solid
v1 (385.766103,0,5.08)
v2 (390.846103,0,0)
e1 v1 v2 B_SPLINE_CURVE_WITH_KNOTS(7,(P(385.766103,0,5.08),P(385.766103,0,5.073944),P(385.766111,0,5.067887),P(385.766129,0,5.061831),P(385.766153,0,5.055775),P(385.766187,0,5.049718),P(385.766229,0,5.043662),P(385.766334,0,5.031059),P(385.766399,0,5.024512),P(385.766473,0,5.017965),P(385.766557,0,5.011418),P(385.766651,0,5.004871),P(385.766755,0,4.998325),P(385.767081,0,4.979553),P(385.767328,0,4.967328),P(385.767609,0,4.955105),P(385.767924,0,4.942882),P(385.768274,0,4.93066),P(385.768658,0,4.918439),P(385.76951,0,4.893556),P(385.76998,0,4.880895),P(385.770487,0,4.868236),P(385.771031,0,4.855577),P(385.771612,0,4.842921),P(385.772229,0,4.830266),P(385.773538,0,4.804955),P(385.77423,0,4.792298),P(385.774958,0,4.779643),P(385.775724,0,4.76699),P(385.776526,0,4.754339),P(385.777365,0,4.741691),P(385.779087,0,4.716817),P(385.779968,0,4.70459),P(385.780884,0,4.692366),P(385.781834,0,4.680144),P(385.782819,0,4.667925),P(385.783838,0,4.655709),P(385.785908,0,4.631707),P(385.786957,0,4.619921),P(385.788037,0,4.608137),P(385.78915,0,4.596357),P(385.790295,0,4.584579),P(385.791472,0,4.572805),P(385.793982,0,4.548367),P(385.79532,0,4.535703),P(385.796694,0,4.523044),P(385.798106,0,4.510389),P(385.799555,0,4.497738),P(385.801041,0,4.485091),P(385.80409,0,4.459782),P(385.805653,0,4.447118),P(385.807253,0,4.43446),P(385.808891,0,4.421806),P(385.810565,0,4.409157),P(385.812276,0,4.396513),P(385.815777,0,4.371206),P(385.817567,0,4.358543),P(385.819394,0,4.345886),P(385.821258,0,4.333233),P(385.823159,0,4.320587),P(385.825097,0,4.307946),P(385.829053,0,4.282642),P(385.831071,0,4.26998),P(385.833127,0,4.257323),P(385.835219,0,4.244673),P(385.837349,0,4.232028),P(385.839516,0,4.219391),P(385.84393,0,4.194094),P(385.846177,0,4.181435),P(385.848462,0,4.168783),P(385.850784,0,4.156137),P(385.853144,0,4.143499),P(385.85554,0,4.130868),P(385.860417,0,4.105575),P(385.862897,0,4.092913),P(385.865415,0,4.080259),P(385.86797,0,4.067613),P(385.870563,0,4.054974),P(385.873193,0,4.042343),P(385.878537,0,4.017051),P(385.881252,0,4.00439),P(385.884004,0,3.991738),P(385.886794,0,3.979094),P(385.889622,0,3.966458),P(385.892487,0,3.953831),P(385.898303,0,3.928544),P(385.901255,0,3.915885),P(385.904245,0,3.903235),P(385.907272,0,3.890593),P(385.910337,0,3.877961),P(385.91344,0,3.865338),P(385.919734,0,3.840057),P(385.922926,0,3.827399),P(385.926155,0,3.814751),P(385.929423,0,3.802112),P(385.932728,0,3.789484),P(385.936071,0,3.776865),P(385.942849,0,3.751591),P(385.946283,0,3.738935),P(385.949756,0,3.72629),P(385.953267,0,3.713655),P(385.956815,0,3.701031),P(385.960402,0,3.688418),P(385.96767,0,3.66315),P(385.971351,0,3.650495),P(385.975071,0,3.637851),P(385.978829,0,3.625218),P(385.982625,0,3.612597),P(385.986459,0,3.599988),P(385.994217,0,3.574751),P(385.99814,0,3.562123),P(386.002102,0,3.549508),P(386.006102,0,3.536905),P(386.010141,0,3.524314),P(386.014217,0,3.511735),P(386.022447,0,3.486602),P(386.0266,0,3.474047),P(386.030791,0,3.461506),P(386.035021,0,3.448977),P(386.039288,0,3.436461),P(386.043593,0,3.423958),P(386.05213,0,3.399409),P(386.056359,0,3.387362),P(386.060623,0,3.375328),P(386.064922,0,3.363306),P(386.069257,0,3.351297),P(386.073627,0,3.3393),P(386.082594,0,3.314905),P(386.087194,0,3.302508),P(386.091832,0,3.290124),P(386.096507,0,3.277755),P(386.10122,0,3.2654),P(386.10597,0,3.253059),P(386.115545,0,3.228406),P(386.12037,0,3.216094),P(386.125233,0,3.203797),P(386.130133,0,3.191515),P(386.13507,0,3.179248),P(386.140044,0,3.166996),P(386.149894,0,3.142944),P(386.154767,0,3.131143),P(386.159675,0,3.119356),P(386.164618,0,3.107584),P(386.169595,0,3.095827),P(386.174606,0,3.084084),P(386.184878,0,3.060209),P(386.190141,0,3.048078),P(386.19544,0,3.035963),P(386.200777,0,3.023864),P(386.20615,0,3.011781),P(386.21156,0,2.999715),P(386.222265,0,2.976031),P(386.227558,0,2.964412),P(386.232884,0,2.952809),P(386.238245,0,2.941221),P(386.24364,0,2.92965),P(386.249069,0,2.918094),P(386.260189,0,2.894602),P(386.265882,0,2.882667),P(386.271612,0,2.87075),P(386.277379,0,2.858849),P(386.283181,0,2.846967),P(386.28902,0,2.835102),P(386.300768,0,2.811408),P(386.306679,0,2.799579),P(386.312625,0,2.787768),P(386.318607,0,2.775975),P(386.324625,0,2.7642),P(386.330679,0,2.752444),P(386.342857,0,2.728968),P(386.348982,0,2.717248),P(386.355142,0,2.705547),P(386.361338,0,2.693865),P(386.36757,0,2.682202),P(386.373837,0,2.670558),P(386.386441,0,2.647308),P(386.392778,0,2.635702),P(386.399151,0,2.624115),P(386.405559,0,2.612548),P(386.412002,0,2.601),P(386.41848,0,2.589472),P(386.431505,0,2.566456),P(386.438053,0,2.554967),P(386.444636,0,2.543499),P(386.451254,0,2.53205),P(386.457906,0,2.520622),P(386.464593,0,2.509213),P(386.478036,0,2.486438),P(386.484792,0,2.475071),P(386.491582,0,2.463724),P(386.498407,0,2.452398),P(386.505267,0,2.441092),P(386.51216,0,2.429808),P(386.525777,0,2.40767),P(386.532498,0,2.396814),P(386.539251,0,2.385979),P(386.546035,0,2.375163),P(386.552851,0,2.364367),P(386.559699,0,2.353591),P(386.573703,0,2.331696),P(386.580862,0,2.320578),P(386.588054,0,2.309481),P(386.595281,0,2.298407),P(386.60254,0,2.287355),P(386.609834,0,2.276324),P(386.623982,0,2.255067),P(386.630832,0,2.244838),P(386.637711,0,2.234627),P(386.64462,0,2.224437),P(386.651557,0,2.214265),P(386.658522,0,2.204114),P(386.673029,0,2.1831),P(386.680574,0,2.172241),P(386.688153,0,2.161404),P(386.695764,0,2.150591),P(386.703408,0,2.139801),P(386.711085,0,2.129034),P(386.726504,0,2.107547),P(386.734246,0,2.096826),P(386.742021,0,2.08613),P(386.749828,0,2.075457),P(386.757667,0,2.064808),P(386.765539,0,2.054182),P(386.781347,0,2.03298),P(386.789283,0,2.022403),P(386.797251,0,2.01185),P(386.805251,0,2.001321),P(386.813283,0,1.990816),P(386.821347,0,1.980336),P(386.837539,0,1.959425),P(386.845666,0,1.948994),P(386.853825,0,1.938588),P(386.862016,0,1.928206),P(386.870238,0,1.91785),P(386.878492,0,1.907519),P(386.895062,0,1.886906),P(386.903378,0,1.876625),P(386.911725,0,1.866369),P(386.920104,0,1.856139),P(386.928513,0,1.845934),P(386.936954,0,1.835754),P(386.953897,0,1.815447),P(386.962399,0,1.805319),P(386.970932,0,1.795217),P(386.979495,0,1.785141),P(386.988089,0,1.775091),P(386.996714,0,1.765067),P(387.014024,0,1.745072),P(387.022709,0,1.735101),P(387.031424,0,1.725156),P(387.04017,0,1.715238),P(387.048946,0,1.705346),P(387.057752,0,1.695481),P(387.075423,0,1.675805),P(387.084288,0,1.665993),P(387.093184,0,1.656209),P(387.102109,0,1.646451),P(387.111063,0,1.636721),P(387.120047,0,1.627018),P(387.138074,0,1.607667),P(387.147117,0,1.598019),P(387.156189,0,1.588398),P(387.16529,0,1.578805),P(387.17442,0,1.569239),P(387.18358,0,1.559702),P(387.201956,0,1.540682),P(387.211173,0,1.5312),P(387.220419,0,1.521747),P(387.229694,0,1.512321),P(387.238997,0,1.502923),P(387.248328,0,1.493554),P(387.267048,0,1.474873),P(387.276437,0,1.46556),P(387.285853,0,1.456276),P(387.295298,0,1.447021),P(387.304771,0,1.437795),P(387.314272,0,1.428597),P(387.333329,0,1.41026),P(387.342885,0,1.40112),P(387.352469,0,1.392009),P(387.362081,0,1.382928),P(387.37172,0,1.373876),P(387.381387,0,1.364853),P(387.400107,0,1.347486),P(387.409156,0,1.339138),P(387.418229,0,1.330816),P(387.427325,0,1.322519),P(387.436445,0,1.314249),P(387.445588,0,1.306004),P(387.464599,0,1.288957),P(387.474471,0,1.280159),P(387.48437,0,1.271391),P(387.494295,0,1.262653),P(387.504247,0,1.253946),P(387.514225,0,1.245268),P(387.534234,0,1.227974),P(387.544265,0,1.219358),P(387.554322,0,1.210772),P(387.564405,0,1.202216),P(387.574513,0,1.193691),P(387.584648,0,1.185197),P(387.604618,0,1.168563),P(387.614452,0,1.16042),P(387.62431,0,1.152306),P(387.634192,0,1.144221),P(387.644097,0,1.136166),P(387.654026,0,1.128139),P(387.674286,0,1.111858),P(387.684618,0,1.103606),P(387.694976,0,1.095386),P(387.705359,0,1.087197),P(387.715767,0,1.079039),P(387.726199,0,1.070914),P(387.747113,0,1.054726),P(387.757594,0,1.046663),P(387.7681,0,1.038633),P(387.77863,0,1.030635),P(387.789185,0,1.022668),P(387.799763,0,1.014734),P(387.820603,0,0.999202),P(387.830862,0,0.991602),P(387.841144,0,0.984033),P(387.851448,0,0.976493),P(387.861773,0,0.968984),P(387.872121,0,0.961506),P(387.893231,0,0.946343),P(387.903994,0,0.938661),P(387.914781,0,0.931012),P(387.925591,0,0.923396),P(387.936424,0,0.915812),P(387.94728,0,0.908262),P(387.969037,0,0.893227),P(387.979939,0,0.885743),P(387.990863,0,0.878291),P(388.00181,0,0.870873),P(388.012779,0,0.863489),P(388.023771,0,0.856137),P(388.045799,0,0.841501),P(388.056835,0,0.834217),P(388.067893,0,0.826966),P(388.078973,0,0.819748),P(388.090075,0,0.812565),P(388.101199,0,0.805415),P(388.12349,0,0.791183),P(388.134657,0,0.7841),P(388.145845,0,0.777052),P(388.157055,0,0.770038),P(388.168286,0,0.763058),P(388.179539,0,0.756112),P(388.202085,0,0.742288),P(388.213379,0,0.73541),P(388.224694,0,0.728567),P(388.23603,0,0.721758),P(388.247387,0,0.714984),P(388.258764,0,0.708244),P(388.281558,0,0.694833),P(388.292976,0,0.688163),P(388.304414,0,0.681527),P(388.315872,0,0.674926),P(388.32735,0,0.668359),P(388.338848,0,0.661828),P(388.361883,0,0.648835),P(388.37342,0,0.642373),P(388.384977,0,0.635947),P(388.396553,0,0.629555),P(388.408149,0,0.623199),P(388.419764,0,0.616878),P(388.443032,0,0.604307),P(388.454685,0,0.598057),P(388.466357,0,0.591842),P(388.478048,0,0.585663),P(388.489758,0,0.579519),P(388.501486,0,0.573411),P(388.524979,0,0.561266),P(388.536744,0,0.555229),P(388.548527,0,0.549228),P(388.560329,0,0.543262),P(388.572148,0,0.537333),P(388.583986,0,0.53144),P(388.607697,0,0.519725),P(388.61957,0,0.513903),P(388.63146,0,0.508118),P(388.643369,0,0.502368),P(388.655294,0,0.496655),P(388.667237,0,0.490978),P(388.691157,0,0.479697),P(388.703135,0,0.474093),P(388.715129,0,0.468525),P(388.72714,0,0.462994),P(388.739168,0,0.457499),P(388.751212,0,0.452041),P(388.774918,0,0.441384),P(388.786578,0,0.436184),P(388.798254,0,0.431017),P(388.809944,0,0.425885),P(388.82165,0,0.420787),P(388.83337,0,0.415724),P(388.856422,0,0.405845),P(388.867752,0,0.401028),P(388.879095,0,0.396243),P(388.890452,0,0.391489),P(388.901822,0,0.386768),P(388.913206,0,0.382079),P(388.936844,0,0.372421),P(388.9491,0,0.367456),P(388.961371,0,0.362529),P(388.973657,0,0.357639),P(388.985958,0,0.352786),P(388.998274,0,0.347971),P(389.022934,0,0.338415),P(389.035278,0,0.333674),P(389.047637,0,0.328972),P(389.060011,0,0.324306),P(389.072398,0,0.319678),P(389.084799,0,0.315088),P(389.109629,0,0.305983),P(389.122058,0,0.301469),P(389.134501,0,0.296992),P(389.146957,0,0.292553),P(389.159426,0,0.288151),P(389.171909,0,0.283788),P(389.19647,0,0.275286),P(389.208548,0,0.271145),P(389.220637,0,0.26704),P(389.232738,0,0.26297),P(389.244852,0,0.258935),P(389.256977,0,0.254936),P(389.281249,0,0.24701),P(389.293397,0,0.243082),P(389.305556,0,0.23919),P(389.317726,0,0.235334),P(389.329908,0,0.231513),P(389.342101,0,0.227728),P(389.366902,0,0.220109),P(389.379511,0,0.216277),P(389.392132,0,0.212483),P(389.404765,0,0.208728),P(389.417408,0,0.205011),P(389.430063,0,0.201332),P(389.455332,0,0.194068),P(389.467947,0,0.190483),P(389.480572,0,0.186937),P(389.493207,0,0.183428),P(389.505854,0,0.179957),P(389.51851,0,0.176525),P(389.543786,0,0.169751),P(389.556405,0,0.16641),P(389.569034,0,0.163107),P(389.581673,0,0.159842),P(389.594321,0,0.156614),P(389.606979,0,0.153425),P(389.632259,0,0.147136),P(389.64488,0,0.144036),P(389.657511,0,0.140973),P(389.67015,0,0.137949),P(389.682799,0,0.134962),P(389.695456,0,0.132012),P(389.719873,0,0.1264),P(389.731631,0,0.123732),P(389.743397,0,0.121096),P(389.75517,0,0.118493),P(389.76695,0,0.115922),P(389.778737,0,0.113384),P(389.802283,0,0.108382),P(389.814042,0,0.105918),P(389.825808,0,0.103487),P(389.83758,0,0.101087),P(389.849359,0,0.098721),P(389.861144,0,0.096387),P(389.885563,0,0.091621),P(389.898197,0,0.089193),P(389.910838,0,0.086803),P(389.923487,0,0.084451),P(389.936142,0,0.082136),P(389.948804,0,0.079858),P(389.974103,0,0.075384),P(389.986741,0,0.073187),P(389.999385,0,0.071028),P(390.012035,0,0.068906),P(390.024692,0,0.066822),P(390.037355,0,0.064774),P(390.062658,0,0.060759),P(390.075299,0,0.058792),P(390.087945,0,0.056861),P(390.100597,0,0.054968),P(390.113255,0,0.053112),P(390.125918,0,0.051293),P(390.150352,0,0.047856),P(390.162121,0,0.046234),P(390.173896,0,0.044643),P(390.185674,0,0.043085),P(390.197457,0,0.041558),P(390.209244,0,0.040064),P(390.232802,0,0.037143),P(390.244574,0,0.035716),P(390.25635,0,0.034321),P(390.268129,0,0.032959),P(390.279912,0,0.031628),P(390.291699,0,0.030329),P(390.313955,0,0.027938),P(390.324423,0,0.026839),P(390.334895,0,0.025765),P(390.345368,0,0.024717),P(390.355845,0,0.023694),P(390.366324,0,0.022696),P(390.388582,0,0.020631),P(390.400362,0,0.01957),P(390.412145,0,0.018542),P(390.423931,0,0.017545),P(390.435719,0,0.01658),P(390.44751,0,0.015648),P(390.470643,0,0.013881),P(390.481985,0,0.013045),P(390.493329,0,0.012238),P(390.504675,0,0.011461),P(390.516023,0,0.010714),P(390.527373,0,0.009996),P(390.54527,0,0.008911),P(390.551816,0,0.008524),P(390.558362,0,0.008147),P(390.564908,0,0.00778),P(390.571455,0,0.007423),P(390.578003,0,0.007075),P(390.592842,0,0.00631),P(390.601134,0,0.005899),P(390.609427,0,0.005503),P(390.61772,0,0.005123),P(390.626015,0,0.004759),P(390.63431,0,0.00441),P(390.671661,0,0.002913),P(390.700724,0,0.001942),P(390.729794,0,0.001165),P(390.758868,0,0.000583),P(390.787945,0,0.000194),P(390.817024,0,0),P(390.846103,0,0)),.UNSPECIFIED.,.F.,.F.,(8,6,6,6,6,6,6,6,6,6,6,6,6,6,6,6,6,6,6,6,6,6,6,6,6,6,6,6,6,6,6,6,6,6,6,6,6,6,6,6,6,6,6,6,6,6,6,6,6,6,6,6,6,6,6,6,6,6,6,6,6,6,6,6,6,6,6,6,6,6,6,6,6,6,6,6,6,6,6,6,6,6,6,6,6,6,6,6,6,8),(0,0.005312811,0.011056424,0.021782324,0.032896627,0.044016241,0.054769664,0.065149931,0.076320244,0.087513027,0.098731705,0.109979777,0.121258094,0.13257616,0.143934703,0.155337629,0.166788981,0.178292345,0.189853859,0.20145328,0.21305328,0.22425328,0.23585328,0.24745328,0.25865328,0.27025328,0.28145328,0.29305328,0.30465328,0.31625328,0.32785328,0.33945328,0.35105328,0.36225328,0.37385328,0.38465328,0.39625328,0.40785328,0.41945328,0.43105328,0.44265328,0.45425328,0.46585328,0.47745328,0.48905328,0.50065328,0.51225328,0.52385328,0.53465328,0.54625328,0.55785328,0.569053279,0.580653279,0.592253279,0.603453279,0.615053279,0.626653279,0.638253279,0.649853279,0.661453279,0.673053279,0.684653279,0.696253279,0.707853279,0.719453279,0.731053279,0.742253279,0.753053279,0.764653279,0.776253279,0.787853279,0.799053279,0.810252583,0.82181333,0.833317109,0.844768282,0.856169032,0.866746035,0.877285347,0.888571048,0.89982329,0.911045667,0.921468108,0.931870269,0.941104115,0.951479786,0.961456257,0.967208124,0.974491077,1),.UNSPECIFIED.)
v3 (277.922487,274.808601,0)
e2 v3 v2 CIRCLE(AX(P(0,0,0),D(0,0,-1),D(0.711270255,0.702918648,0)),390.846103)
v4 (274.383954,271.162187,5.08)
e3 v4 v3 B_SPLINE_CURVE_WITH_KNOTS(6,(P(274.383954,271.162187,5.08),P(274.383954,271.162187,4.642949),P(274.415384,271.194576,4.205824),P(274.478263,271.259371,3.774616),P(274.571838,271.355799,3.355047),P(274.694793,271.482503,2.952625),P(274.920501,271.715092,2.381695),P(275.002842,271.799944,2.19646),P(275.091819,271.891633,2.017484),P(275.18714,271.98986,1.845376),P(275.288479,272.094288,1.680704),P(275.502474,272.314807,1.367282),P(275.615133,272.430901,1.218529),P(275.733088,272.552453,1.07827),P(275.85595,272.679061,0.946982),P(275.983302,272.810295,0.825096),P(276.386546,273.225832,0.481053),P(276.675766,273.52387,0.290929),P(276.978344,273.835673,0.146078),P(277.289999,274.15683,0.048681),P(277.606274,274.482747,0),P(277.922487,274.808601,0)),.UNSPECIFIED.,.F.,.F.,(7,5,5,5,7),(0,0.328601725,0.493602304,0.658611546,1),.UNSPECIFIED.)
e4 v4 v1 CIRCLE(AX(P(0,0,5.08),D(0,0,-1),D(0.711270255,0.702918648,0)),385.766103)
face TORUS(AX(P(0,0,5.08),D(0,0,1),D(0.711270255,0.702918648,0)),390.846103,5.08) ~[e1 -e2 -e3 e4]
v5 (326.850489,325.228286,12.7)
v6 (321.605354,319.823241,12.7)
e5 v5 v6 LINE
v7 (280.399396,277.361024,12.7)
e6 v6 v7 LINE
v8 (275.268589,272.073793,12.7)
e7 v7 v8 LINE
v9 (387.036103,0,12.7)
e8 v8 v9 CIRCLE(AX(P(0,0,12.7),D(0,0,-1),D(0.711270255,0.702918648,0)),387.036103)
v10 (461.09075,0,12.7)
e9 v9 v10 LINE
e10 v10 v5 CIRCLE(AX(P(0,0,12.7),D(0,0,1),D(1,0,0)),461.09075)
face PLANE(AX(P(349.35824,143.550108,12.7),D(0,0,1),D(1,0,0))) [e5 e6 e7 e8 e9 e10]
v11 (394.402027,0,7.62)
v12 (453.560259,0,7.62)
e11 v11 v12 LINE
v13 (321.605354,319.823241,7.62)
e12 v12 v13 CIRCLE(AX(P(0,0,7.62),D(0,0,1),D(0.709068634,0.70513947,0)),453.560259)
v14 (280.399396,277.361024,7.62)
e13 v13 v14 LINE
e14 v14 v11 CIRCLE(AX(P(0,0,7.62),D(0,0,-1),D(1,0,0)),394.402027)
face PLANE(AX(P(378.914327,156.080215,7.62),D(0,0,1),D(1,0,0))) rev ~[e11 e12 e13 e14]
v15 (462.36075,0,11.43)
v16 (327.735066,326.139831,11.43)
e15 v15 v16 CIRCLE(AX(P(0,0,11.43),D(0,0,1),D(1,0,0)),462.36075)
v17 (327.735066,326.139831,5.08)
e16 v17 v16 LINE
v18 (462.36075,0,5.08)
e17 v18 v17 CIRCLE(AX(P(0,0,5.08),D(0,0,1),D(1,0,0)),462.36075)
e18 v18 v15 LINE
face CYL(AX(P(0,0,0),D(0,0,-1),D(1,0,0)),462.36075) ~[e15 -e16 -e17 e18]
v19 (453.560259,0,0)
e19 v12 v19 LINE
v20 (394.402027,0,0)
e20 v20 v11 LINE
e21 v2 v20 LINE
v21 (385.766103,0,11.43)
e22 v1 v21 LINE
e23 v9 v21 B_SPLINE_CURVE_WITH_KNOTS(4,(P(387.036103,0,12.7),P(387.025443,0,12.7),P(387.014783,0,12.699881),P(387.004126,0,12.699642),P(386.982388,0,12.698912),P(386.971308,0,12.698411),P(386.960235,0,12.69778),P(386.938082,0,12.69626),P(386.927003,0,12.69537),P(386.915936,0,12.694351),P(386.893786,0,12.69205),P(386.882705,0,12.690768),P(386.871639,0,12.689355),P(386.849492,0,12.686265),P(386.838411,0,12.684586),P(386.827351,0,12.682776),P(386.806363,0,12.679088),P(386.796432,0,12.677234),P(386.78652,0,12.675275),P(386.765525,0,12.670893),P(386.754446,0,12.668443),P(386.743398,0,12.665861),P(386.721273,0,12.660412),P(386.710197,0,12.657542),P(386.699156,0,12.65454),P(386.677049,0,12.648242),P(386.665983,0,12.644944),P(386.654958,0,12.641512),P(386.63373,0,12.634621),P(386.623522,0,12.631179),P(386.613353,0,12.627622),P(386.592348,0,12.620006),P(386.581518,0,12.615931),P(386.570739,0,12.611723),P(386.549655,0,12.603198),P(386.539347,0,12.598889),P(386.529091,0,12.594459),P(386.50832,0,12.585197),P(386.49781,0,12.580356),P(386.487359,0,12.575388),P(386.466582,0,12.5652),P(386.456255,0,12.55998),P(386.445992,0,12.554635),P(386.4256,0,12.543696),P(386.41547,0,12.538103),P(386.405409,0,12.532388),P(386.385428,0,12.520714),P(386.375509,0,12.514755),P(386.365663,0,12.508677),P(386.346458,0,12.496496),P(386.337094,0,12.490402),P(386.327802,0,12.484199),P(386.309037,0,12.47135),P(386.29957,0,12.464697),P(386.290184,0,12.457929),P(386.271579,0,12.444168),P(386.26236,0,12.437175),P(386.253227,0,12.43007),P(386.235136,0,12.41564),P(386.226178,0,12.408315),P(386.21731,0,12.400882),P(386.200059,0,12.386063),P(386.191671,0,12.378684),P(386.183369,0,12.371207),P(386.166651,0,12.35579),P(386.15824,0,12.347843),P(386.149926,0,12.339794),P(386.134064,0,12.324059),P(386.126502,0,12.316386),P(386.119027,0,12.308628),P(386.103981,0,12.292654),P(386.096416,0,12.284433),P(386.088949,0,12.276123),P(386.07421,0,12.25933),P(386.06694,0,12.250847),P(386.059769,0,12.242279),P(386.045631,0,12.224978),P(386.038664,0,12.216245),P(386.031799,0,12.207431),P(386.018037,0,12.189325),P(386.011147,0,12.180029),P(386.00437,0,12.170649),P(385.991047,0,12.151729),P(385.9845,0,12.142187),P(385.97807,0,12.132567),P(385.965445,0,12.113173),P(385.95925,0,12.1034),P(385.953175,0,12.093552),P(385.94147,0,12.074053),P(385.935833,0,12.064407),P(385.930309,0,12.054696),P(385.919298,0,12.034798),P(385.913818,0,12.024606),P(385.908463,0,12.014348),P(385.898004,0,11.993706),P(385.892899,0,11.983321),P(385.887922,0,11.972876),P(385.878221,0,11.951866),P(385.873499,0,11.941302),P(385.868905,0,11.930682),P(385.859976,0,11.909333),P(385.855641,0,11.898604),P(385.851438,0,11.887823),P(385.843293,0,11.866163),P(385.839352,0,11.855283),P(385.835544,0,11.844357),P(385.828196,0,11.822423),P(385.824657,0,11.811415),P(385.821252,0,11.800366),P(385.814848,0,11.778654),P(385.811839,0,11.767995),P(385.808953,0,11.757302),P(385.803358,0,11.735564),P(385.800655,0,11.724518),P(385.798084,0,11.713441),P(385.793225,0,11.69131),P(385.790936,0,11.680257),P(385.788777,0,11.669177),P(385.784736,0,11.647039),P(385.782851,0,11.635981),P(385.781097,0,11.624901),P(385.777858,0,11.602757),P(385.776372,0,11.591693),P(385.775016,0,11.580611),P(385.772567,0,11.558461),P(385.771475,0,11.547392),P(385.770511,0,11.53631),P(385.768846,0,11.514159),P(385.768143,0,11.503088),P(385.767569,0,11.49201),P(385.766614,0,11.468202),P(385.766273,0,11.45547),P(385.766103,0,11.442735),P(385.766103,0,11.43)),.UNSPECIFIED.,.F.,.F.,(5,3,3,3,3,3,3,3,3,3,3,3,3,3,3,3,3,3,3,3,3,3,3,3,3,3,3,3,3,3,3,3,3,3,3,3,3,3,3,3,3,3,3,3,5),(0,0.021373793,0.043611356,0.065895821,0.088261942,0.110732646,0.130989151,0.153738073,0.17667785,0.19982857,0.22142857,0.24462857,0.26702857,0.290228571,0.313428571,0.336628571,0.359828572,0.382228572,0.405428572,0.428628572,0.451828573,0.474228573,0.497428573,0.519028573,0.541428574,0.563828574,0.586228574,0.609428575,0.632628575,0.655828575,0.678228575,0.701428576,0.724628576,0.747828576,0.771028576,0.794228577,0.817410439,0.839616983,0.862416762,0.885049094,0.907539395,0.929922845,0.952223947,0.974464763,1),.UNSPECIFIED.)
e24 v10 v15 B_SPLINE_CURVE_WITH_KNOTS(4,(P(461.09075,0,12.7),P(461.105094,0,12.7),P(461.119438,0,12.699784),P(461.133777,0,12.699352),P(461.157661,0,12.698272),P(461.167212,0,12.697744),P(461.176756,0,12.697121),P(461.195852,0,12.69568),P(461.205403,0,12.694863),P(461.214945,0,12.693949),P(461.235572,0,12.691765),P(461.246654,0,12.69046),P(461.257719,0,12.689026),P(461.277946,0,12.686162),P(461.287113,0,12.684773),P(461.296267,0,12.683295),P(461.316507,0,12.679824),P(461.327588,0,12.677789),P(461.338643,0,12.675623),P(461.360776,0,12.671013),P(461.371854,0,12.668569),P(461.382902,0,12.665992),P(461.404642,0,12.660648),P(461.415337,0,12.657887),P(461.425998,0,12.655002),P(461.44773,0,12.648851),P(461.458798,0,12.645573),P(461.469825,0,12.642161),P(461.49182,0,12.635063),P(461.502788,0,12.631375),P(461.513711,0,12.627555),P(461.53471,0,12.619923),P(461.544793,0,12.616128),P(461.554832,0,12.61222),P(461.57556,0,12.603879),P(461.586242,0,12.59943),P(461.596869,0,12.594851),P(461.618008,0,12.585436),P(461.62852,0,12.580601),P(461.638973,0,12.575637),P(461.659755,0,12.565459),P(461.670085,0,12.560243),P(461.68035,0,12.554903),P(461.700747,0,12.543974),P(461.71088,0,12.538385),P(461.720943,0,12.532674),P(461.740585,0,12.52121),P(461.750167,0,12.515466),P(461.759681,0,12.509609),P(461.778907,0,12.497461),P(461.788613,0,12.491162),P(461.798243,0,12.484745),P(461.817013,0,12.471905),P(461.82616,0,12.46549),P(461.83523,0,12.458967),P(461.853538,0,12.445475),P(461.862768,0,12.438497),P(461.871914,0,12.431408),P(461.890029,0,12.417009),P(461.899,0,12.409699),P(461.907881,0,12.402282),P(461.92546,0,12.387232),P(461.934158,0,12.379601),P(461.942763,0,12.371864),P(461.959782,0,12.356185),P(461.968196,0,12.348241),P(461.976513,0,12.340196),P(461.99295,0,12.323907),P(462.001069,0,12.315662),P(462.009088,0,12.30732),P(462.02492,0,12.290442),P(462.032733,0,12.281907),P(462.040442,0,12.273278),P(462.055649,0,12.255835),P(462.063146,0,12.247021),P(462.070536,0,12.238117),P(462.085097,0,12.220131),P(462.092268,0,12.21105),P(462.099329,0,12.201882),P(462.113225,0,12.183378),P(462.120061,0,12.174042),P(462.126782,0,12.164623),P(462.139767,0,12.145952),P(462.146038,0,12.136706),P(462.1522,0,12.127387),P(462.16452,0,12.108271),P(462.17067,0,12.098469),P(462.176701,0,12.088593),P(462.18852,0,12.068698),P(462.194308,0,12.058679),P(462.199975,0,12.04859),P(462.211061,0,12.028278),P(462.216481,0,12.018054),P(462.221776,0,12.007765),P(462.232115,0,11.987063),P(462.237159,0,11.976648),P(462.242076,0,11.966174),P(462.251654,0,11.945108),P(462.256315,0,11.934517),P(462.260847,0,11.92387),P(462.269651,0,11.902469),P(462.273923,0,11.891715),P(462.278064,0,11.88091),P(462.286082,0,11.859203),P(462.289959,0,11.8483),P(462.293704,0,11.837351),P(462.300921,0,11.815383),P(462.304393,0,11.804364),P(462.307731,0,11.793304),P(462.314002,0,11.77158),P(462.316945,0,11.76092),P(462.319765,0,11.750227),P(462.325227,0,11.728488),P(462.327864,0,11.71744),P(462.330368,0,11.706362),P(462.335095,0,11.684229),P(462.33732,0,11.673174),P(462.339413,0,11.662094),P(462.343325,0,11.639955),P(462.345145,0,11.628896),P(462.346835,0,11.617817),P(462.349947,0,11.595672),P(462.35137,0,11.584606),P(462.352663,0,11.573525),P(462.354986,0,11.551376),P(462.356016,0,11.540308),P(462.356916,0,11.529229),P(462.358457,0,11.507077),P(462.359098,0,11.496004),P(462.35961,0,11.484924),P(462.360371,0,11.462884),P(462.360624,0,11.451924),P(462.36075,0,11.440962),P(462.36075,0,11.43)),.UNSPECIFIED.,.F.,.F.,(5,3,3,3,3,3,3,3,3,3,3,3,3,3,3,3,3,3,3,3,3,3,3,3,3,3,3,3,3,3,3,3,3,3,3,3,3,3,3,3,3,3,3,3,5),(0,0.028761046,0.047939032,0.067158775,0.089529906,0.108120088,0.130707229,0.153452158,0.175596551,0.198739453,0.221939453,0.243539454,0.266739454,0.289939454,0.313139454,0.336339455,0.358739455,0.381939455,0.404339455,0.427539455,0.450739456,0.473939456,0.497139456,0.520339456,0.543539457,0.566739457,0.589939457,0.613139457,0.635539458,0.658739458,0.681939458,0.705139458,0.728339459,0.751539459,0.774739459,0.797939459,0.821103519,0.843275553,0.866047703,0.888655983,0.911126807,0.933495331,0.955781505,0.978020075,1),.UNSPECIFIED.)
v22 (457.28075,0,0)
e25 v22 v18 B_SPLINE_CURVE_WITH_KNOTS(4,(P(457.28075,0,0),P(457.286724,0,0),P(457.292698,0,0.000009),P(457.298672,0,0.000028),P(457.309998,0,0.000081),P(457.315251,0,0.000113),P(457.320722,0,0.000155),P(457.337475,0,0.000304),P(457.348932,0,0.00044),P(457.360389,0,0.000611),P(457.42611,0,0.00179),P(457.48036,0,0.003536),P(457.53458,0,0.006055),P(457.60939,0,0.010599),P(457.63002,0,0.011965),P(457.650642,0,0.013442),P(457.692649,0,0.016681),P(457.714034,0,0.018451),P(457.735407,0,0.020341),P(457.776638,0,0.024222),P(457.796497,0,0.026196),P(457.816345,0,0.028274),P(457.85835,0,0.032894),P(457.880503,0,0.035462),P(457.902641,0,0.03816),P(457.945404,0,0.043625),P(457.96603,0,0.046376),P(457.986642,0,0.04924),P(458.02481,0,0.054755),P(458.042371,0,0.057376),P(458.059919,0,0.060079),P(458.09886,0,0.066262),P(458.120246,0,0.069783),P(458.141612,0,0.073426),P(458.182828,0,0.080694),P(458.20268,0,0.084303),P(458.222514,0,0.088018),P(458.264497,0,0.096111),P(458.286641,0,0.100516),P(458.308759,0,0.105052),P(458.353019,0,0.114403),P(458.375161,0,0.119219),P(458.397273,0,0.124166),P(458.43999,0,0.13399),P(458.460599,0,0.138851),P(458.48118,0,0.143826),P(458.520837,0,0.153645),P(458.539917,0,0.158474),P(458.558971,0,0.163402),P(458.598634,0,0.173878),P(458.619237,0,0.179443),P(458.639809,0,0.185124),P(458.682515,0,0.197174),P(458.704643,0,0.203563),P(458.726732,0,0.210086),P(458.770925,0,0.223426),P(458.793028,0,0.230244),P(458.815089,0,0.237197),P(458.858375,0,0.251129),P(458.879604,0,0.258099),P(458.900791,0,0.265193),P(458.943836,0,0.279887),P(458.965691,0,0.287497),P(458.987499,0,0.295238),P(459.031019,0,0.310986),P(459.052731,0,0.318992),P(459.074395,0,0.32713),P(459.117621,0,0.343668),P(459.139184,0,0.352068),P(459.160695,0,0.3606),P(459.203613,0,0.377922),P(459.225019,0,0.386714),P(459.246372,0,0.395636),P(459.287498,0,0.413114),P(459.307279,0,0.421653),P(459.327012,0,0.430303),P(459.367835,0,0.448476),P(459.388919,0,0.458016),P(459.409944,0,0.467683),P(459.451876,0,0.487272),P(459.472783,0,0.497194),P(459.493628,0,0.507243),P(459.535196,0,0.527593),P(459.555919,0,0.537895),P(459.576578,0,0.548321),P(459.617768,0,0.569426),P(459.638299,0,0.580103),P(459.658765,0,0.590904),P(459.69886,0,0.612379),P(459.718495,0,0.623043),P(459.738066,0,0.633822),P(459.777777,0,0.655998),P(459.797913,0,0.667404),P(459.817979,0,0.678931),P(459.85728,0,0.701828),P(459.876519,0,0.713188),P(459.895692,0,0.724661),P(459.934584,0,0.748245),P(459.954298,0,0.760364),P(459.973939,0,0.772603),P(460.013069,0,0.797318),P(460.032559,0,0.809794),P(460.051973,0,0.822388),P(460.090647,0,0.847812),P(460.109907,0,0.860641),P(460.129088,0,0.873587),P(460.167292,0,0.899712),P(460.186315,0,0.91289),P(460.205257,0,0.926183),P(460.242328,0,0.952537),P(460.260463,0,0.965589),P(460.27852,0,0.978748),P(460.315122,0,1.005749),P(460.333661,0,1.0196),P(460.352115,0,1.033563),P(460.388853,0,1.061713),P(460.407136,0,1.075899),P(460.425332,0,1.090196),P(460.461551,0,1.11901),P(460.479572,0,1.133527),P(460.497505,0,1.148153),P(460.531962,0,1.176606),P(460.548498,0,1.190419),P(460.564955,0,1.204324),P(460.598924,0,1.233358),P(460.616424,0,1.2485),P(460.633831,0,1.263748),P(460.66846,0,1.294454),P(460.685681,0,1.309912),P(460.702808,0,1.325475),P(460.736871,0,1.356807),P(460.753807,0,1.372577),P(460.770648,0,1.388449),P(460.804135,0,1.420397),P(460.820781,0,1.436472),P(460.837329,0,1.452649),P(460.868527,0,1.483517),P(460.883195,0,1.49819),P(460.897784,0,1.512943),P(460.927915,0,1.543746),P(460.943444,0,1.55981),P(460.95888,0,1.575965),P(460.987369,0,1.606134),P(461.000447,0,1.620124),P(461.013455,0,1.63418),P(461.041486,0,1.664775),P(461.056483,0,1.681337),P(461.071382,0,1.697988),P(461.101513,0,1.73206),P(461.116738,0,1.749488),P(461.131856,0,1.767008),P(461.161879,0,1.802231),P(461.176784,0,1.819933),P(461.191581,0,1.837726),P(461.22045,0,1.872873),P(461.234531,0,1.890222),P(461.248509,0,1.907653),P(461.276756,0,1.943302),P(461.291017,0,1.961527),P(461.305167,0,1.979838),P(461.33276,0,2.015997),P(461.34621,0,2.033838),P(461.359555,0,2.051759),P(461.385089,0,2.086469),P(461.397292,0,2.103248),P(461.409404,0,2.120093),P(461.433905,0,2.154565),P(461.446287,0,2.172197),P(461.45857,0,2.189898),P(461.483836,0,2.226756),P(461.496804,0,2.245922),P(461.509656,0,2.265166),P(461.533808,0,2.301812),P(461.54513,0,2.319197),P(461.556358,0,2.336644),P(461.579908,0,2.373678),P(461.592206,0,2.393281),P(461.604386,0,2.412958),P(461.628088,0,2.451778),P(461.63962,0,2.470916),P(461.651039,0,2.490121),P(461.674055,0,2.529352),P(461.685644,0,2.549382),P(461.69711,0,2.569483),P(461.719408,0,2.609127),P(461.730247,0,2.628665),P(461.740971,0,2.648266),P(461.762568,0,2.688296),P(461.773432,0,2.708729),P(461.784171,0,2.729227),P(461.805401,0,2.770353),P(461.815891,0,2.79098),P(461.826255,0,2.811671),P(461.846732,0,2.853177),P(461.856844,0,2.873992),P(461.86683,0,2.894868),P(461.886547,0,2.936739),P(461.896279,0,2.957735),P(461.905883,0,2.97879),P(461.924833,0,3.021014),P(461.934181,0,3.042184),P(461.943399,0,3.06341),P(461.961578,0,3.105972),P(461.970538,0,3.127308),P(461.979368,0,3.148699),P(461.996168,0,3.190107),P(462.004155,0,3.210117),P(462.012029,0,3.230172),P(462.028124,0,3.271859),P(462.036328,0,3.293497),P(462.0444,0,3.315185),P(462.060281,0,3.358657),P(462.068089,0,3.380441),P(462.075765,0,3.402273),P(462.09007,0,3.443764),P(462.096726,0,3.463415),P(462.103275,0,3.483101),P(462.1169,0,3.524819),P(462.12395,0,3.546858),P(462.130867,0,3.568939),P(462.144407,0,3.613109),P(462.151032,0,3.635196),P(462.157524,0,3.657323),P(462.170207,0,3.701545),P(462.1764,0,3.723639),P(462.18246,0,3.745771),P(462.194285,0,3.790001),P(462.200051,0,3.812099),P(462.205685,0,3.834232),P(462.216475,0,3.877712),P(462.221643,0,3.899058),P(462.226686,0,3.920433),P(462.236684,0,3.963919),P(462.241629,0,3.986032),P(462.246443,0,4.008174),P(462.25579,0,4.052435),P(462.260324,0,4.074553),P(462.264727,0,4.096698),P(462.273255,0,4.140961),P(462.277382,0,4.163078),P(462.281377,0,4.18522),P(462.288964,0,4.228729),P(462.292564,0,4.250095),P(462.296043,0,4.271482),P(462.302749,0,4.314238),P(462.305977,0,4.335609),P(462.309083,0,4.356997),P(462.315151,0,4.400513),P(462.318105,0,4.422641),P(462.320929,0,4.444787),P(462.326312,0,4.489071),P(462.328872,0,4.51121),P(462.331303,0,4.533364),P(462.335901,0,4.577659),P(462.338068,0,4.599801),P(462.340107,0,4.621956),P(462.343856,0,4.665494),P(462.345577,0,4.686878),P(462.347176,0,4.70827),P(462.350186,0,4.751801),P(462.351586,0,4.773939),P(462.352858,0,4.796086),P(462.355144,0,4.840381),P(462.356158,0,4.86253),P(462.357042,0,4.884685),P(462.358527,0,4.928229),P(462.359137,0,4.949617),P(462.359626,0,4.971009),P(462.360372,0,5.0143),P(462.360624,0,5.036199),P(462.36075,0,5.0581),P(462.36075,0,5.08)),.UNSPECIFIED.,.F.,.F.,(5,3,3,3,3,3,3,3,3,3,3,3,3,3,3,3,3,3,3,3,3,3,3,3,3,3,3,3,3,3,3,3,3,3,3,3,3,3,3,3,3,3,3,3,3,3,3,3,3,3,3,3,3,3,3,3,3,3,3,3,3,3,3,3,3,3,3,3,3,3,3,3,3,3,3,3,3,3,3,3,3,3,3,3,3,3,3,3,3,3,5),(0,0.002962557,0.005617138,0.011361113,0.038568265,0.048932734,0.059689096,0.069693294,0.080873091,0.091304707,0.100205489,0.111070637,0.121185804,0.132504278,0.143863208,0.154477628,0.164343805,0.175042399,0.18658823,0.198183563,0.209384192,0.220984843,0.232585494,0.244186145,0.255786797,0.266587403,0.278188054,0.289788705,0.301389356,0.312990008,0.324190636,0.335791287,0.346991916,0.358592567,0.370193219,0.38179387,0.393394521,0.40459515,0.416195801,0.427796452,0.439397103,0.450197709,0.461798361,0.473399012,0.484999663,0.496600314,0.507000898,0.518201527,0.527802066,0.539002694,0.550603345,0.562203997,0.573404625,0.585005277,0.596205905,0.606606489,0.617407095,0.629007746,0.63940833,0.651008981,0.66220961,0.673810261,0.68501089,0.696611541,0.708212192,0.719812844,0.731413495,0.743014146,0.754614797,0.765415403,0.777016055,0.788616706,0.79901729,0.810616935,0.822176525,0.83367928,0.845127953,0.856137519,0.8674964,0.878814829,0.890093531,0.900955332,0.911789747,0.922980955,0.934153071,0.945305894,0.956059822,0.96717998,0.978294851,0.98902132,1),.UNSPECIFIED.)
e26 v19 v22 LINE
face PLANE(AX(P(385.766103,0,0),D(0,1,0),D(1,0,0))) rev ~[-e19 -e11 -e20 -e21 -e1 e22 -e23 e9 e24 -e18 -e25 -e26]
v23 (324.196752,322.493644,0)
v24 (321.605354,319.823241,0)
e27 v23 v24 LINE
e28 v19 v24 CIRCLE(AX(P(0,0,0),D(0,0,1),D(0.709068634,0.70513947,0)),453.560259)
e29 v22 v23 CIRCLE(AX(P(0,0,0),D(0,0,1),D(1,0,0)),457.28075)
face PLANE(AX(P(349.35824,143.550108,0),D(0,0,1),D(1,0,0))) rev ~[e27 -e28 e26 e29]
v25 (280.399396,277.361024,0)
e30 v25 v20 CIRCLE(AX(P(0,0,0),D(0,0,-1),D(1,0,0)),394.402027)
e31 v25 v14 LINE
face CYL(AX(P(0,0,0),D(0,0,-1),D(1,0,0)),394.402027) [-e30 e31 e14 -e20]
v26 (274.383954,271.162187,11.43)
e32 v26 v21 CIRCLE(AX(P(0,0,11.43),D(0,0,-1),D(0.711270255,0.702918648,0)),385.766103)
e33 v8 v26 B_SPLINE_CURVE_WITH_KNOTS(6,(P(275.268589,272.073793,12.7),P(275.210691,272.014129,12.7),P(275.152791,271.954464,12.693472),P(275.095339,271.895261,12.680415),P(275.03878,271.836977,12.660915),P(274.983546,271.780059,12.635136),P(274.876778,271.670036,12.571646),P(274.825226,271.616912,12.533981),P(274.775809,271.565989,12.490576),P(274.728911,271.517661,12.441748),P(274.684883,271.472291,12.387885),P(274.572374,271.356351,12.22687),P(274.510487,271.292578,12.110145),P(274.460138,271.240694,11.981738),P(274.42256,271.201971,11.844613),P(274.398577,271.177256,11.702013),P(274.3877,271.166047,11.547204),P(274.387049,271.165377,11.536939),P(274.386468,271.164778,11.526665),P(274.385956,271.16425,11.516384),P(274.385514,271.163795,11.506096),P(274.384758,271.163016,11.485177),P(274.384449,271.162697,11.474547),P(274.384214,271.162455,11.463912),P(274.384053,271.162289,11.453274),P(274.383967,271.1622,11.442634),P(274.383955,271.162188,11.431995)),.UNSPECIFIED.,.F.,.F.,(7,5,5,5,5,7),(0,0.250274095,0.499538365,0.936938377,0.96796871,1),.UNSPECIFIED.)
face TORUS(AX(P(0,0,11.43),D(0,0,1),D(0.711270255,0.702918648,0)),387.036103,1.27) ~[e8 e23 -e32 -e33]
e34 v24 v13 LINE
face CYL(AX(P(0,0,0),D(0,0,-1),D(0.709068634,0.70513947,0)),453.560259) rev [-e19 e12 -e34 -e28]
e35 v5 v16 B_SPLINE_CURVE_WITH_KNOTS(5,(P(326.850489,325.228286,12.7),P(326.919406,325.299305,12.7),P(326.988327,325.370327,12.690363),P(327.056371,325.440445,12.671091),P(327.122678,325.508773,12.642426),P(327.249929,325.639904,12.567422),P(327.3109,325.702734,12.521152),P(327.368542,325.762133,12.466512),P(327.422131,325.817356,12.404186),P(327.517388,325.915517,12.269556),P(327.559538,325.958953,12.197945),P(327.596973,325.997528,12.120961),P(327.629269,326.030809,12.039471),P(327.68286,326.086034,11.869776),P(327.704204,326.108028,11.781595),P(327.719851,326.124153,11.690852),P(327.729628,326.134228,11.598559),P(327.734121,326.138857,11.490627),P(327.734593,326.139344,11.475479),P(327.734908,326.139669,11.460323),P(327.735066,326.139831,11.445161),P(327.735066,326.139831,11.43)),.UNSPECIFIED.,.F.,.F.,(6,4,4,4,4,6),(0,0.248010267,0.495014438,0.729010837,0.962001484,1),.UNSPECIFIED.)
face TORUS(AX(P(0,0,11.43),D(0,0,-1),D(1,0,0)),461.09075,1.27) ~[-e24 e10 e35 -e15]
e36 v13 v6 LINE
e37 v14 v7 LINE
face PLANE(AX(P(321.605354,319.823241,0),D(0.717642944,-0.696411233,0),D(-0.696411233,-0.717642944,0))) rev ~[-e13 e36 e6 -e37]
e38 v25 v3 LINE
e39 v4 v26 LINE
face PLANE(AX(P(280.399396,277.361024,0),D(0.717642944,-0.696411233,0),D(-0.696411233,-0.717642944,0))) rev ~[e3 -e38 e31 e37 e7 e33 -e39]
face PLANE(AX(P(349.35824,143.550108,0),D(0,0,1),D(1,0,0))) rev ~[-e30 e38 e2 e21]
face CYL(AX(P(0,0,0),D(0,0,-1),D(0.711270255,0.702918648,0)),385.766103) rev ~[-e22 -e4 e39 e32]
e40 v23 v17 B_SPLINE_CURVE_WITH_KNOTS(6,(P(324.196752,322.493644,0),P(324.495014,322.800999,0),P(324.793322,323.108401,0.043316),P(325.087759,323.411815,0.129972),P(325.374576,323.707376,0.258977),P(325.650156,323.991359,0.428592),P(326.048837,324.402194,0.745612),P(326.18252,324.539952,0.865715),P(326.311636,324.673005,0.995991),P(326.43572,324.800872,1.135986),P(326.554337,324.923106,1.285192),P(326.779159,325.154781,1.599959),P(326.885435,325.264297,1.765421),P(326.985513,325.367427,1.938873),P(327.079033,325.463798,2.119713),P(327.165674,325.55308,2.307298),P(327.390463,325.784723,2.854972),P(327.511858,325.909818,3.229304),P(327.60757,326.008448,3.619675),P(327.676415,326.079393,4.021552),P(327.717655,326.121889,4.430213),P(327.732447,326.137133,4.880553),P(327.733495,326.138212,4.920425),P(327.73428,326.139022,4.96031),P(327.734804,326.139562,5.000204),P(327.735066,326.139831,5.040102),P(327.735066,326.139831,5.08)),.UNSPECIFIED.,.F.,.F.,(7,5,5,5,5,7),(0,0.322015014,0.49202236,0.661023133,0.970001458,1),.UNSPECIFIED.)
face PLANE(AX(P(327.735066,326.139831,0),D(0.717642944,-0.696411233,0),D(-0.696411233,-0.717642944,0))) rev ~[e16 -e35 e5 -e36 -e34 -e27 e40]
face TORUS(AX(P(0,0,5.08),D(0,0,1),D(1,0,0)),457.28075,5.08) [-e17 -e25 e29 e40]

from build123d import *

# Parameters (mm, degrees)
F1_DEPTH = 12.7
F2_DEPTH = 7.62
F3_R     = 5.08
F4_R     = 5.08
F5_R     = 1.27
F6_R     = 1.27


with BuildPart() as f1:
    # F0 (on Top) → F1 (new body)
    with BuildSketch(Plane.XY):
        with BuildLine():
            ThreePointArc((274.3839541464, 271.162187256), (356.8357568685, 146.5732878479), (385.7661028272, 0))
            Line((385.7661028272, 0), (394.4020265055, 0))
            ThreePointArc((394.4020265055, 0), (364.7896986096, 149.9381015618), (280.3993957424, 277.3610235395))
            Line((280.3993957424, 277.3610235395), (274.3839541464, 271.162187256))
        make_face()
        with BuildLine():
            ThreePointArc((280.3993957424, 277.3610235395), (364.7896986096, 149.9381015618), (394.4020265055, 0))
            Line((394.4020265055, 0), (453.5602591088, 0))
            ThreePointArc((453.5602591088, 0), (419.2757542113, 172.9877179841), (321.6053535703, 319.8232405529))
            Line((321.6053535703, 319.8232405529), (280.3993957424, 277.3610235395))
        make_face()
        with BuildLine():
            ThreePointArc((321.6053535703, 319.8232405529), (419.2757542113, 172.9877179841), (453.5602591088, 0))
            Line((453.5602591088, 0), (462.3607499635, 0))
            ThreePointArc((462.3607499635, 0), (427.3811495561, 176.4165981731), (327.7350659564, 326.1398314365))
            Line((327.7350659564, 326.1398314365), (321.6053535703, 319.8232405529))
        make_face()
    extrude(amount=F1_DEPTH)

    # F0 (on Top) → F2 (cut)
    with BuildSketch(Plane.XY):
        with BuildLine():
            ThreePointArc((280.3993957424, 277.3610235395), (364.7896986096, 149.9381015618), (394.4020265055, 0))
            Line((394.4020265055, 0), (453.5602591088, 0))
            ThreePointArc((453.5602591088, 0), (419.2757542113, 172.9877179841), (321.6053535703, 319.8232405529))
            Line((321.6053535703, 319.8232405529), (280.3993957424, 277.3610235395))
        make_face()
        with BuildLine():
            Line((453.5602591088, 0), (394.4020265055, 0))
            ThreePointArc((394.4020265055, 0), (-364.7896986096, -149.9381015618), (280.3993957424, 277.3610235395))
            Line((280.3993957424, 277.3610235395), (321.6053535703, 319.8232405529))
            ThreePointArc((321.6053535703, 319.8232405529), (-419.2757542113, -172.9877179841), (453.5602591088, 0))
        make_face()
    extrude(amount=F2_DEPTH, mode=Mode.SUBTRACT)

    # F3
    f3_edges = [f1.edges().sort_by_distance(p)[0] for p in [
        (427.38115, 176.416598, 0),
    ]]
    fillet(f3_edges, radius=F3_R)

    # F4
    f4_edges = [f1.edges().sort_by_distance(p)[0] for p in [
        (356.835757, 146.573288, 0),
    ]]
    fillet(f4_edges, radius=F4_R)

    # F5
    f5_edges = [f1.edges().sort_by_distance(p)[0] for p in [
        (427.38115, 176.416598, 12.7),
    ]]
    fillet(f5_edges, radius=F5_R)

    # F6
    f6_edges = [f1.edges().sort_by_distance(p)[0] for p in [
        (356.835757, 146.573288, 12.7),
    ]]
    fillet(f6_edges, radius=F6_R)


solid = f1.part
